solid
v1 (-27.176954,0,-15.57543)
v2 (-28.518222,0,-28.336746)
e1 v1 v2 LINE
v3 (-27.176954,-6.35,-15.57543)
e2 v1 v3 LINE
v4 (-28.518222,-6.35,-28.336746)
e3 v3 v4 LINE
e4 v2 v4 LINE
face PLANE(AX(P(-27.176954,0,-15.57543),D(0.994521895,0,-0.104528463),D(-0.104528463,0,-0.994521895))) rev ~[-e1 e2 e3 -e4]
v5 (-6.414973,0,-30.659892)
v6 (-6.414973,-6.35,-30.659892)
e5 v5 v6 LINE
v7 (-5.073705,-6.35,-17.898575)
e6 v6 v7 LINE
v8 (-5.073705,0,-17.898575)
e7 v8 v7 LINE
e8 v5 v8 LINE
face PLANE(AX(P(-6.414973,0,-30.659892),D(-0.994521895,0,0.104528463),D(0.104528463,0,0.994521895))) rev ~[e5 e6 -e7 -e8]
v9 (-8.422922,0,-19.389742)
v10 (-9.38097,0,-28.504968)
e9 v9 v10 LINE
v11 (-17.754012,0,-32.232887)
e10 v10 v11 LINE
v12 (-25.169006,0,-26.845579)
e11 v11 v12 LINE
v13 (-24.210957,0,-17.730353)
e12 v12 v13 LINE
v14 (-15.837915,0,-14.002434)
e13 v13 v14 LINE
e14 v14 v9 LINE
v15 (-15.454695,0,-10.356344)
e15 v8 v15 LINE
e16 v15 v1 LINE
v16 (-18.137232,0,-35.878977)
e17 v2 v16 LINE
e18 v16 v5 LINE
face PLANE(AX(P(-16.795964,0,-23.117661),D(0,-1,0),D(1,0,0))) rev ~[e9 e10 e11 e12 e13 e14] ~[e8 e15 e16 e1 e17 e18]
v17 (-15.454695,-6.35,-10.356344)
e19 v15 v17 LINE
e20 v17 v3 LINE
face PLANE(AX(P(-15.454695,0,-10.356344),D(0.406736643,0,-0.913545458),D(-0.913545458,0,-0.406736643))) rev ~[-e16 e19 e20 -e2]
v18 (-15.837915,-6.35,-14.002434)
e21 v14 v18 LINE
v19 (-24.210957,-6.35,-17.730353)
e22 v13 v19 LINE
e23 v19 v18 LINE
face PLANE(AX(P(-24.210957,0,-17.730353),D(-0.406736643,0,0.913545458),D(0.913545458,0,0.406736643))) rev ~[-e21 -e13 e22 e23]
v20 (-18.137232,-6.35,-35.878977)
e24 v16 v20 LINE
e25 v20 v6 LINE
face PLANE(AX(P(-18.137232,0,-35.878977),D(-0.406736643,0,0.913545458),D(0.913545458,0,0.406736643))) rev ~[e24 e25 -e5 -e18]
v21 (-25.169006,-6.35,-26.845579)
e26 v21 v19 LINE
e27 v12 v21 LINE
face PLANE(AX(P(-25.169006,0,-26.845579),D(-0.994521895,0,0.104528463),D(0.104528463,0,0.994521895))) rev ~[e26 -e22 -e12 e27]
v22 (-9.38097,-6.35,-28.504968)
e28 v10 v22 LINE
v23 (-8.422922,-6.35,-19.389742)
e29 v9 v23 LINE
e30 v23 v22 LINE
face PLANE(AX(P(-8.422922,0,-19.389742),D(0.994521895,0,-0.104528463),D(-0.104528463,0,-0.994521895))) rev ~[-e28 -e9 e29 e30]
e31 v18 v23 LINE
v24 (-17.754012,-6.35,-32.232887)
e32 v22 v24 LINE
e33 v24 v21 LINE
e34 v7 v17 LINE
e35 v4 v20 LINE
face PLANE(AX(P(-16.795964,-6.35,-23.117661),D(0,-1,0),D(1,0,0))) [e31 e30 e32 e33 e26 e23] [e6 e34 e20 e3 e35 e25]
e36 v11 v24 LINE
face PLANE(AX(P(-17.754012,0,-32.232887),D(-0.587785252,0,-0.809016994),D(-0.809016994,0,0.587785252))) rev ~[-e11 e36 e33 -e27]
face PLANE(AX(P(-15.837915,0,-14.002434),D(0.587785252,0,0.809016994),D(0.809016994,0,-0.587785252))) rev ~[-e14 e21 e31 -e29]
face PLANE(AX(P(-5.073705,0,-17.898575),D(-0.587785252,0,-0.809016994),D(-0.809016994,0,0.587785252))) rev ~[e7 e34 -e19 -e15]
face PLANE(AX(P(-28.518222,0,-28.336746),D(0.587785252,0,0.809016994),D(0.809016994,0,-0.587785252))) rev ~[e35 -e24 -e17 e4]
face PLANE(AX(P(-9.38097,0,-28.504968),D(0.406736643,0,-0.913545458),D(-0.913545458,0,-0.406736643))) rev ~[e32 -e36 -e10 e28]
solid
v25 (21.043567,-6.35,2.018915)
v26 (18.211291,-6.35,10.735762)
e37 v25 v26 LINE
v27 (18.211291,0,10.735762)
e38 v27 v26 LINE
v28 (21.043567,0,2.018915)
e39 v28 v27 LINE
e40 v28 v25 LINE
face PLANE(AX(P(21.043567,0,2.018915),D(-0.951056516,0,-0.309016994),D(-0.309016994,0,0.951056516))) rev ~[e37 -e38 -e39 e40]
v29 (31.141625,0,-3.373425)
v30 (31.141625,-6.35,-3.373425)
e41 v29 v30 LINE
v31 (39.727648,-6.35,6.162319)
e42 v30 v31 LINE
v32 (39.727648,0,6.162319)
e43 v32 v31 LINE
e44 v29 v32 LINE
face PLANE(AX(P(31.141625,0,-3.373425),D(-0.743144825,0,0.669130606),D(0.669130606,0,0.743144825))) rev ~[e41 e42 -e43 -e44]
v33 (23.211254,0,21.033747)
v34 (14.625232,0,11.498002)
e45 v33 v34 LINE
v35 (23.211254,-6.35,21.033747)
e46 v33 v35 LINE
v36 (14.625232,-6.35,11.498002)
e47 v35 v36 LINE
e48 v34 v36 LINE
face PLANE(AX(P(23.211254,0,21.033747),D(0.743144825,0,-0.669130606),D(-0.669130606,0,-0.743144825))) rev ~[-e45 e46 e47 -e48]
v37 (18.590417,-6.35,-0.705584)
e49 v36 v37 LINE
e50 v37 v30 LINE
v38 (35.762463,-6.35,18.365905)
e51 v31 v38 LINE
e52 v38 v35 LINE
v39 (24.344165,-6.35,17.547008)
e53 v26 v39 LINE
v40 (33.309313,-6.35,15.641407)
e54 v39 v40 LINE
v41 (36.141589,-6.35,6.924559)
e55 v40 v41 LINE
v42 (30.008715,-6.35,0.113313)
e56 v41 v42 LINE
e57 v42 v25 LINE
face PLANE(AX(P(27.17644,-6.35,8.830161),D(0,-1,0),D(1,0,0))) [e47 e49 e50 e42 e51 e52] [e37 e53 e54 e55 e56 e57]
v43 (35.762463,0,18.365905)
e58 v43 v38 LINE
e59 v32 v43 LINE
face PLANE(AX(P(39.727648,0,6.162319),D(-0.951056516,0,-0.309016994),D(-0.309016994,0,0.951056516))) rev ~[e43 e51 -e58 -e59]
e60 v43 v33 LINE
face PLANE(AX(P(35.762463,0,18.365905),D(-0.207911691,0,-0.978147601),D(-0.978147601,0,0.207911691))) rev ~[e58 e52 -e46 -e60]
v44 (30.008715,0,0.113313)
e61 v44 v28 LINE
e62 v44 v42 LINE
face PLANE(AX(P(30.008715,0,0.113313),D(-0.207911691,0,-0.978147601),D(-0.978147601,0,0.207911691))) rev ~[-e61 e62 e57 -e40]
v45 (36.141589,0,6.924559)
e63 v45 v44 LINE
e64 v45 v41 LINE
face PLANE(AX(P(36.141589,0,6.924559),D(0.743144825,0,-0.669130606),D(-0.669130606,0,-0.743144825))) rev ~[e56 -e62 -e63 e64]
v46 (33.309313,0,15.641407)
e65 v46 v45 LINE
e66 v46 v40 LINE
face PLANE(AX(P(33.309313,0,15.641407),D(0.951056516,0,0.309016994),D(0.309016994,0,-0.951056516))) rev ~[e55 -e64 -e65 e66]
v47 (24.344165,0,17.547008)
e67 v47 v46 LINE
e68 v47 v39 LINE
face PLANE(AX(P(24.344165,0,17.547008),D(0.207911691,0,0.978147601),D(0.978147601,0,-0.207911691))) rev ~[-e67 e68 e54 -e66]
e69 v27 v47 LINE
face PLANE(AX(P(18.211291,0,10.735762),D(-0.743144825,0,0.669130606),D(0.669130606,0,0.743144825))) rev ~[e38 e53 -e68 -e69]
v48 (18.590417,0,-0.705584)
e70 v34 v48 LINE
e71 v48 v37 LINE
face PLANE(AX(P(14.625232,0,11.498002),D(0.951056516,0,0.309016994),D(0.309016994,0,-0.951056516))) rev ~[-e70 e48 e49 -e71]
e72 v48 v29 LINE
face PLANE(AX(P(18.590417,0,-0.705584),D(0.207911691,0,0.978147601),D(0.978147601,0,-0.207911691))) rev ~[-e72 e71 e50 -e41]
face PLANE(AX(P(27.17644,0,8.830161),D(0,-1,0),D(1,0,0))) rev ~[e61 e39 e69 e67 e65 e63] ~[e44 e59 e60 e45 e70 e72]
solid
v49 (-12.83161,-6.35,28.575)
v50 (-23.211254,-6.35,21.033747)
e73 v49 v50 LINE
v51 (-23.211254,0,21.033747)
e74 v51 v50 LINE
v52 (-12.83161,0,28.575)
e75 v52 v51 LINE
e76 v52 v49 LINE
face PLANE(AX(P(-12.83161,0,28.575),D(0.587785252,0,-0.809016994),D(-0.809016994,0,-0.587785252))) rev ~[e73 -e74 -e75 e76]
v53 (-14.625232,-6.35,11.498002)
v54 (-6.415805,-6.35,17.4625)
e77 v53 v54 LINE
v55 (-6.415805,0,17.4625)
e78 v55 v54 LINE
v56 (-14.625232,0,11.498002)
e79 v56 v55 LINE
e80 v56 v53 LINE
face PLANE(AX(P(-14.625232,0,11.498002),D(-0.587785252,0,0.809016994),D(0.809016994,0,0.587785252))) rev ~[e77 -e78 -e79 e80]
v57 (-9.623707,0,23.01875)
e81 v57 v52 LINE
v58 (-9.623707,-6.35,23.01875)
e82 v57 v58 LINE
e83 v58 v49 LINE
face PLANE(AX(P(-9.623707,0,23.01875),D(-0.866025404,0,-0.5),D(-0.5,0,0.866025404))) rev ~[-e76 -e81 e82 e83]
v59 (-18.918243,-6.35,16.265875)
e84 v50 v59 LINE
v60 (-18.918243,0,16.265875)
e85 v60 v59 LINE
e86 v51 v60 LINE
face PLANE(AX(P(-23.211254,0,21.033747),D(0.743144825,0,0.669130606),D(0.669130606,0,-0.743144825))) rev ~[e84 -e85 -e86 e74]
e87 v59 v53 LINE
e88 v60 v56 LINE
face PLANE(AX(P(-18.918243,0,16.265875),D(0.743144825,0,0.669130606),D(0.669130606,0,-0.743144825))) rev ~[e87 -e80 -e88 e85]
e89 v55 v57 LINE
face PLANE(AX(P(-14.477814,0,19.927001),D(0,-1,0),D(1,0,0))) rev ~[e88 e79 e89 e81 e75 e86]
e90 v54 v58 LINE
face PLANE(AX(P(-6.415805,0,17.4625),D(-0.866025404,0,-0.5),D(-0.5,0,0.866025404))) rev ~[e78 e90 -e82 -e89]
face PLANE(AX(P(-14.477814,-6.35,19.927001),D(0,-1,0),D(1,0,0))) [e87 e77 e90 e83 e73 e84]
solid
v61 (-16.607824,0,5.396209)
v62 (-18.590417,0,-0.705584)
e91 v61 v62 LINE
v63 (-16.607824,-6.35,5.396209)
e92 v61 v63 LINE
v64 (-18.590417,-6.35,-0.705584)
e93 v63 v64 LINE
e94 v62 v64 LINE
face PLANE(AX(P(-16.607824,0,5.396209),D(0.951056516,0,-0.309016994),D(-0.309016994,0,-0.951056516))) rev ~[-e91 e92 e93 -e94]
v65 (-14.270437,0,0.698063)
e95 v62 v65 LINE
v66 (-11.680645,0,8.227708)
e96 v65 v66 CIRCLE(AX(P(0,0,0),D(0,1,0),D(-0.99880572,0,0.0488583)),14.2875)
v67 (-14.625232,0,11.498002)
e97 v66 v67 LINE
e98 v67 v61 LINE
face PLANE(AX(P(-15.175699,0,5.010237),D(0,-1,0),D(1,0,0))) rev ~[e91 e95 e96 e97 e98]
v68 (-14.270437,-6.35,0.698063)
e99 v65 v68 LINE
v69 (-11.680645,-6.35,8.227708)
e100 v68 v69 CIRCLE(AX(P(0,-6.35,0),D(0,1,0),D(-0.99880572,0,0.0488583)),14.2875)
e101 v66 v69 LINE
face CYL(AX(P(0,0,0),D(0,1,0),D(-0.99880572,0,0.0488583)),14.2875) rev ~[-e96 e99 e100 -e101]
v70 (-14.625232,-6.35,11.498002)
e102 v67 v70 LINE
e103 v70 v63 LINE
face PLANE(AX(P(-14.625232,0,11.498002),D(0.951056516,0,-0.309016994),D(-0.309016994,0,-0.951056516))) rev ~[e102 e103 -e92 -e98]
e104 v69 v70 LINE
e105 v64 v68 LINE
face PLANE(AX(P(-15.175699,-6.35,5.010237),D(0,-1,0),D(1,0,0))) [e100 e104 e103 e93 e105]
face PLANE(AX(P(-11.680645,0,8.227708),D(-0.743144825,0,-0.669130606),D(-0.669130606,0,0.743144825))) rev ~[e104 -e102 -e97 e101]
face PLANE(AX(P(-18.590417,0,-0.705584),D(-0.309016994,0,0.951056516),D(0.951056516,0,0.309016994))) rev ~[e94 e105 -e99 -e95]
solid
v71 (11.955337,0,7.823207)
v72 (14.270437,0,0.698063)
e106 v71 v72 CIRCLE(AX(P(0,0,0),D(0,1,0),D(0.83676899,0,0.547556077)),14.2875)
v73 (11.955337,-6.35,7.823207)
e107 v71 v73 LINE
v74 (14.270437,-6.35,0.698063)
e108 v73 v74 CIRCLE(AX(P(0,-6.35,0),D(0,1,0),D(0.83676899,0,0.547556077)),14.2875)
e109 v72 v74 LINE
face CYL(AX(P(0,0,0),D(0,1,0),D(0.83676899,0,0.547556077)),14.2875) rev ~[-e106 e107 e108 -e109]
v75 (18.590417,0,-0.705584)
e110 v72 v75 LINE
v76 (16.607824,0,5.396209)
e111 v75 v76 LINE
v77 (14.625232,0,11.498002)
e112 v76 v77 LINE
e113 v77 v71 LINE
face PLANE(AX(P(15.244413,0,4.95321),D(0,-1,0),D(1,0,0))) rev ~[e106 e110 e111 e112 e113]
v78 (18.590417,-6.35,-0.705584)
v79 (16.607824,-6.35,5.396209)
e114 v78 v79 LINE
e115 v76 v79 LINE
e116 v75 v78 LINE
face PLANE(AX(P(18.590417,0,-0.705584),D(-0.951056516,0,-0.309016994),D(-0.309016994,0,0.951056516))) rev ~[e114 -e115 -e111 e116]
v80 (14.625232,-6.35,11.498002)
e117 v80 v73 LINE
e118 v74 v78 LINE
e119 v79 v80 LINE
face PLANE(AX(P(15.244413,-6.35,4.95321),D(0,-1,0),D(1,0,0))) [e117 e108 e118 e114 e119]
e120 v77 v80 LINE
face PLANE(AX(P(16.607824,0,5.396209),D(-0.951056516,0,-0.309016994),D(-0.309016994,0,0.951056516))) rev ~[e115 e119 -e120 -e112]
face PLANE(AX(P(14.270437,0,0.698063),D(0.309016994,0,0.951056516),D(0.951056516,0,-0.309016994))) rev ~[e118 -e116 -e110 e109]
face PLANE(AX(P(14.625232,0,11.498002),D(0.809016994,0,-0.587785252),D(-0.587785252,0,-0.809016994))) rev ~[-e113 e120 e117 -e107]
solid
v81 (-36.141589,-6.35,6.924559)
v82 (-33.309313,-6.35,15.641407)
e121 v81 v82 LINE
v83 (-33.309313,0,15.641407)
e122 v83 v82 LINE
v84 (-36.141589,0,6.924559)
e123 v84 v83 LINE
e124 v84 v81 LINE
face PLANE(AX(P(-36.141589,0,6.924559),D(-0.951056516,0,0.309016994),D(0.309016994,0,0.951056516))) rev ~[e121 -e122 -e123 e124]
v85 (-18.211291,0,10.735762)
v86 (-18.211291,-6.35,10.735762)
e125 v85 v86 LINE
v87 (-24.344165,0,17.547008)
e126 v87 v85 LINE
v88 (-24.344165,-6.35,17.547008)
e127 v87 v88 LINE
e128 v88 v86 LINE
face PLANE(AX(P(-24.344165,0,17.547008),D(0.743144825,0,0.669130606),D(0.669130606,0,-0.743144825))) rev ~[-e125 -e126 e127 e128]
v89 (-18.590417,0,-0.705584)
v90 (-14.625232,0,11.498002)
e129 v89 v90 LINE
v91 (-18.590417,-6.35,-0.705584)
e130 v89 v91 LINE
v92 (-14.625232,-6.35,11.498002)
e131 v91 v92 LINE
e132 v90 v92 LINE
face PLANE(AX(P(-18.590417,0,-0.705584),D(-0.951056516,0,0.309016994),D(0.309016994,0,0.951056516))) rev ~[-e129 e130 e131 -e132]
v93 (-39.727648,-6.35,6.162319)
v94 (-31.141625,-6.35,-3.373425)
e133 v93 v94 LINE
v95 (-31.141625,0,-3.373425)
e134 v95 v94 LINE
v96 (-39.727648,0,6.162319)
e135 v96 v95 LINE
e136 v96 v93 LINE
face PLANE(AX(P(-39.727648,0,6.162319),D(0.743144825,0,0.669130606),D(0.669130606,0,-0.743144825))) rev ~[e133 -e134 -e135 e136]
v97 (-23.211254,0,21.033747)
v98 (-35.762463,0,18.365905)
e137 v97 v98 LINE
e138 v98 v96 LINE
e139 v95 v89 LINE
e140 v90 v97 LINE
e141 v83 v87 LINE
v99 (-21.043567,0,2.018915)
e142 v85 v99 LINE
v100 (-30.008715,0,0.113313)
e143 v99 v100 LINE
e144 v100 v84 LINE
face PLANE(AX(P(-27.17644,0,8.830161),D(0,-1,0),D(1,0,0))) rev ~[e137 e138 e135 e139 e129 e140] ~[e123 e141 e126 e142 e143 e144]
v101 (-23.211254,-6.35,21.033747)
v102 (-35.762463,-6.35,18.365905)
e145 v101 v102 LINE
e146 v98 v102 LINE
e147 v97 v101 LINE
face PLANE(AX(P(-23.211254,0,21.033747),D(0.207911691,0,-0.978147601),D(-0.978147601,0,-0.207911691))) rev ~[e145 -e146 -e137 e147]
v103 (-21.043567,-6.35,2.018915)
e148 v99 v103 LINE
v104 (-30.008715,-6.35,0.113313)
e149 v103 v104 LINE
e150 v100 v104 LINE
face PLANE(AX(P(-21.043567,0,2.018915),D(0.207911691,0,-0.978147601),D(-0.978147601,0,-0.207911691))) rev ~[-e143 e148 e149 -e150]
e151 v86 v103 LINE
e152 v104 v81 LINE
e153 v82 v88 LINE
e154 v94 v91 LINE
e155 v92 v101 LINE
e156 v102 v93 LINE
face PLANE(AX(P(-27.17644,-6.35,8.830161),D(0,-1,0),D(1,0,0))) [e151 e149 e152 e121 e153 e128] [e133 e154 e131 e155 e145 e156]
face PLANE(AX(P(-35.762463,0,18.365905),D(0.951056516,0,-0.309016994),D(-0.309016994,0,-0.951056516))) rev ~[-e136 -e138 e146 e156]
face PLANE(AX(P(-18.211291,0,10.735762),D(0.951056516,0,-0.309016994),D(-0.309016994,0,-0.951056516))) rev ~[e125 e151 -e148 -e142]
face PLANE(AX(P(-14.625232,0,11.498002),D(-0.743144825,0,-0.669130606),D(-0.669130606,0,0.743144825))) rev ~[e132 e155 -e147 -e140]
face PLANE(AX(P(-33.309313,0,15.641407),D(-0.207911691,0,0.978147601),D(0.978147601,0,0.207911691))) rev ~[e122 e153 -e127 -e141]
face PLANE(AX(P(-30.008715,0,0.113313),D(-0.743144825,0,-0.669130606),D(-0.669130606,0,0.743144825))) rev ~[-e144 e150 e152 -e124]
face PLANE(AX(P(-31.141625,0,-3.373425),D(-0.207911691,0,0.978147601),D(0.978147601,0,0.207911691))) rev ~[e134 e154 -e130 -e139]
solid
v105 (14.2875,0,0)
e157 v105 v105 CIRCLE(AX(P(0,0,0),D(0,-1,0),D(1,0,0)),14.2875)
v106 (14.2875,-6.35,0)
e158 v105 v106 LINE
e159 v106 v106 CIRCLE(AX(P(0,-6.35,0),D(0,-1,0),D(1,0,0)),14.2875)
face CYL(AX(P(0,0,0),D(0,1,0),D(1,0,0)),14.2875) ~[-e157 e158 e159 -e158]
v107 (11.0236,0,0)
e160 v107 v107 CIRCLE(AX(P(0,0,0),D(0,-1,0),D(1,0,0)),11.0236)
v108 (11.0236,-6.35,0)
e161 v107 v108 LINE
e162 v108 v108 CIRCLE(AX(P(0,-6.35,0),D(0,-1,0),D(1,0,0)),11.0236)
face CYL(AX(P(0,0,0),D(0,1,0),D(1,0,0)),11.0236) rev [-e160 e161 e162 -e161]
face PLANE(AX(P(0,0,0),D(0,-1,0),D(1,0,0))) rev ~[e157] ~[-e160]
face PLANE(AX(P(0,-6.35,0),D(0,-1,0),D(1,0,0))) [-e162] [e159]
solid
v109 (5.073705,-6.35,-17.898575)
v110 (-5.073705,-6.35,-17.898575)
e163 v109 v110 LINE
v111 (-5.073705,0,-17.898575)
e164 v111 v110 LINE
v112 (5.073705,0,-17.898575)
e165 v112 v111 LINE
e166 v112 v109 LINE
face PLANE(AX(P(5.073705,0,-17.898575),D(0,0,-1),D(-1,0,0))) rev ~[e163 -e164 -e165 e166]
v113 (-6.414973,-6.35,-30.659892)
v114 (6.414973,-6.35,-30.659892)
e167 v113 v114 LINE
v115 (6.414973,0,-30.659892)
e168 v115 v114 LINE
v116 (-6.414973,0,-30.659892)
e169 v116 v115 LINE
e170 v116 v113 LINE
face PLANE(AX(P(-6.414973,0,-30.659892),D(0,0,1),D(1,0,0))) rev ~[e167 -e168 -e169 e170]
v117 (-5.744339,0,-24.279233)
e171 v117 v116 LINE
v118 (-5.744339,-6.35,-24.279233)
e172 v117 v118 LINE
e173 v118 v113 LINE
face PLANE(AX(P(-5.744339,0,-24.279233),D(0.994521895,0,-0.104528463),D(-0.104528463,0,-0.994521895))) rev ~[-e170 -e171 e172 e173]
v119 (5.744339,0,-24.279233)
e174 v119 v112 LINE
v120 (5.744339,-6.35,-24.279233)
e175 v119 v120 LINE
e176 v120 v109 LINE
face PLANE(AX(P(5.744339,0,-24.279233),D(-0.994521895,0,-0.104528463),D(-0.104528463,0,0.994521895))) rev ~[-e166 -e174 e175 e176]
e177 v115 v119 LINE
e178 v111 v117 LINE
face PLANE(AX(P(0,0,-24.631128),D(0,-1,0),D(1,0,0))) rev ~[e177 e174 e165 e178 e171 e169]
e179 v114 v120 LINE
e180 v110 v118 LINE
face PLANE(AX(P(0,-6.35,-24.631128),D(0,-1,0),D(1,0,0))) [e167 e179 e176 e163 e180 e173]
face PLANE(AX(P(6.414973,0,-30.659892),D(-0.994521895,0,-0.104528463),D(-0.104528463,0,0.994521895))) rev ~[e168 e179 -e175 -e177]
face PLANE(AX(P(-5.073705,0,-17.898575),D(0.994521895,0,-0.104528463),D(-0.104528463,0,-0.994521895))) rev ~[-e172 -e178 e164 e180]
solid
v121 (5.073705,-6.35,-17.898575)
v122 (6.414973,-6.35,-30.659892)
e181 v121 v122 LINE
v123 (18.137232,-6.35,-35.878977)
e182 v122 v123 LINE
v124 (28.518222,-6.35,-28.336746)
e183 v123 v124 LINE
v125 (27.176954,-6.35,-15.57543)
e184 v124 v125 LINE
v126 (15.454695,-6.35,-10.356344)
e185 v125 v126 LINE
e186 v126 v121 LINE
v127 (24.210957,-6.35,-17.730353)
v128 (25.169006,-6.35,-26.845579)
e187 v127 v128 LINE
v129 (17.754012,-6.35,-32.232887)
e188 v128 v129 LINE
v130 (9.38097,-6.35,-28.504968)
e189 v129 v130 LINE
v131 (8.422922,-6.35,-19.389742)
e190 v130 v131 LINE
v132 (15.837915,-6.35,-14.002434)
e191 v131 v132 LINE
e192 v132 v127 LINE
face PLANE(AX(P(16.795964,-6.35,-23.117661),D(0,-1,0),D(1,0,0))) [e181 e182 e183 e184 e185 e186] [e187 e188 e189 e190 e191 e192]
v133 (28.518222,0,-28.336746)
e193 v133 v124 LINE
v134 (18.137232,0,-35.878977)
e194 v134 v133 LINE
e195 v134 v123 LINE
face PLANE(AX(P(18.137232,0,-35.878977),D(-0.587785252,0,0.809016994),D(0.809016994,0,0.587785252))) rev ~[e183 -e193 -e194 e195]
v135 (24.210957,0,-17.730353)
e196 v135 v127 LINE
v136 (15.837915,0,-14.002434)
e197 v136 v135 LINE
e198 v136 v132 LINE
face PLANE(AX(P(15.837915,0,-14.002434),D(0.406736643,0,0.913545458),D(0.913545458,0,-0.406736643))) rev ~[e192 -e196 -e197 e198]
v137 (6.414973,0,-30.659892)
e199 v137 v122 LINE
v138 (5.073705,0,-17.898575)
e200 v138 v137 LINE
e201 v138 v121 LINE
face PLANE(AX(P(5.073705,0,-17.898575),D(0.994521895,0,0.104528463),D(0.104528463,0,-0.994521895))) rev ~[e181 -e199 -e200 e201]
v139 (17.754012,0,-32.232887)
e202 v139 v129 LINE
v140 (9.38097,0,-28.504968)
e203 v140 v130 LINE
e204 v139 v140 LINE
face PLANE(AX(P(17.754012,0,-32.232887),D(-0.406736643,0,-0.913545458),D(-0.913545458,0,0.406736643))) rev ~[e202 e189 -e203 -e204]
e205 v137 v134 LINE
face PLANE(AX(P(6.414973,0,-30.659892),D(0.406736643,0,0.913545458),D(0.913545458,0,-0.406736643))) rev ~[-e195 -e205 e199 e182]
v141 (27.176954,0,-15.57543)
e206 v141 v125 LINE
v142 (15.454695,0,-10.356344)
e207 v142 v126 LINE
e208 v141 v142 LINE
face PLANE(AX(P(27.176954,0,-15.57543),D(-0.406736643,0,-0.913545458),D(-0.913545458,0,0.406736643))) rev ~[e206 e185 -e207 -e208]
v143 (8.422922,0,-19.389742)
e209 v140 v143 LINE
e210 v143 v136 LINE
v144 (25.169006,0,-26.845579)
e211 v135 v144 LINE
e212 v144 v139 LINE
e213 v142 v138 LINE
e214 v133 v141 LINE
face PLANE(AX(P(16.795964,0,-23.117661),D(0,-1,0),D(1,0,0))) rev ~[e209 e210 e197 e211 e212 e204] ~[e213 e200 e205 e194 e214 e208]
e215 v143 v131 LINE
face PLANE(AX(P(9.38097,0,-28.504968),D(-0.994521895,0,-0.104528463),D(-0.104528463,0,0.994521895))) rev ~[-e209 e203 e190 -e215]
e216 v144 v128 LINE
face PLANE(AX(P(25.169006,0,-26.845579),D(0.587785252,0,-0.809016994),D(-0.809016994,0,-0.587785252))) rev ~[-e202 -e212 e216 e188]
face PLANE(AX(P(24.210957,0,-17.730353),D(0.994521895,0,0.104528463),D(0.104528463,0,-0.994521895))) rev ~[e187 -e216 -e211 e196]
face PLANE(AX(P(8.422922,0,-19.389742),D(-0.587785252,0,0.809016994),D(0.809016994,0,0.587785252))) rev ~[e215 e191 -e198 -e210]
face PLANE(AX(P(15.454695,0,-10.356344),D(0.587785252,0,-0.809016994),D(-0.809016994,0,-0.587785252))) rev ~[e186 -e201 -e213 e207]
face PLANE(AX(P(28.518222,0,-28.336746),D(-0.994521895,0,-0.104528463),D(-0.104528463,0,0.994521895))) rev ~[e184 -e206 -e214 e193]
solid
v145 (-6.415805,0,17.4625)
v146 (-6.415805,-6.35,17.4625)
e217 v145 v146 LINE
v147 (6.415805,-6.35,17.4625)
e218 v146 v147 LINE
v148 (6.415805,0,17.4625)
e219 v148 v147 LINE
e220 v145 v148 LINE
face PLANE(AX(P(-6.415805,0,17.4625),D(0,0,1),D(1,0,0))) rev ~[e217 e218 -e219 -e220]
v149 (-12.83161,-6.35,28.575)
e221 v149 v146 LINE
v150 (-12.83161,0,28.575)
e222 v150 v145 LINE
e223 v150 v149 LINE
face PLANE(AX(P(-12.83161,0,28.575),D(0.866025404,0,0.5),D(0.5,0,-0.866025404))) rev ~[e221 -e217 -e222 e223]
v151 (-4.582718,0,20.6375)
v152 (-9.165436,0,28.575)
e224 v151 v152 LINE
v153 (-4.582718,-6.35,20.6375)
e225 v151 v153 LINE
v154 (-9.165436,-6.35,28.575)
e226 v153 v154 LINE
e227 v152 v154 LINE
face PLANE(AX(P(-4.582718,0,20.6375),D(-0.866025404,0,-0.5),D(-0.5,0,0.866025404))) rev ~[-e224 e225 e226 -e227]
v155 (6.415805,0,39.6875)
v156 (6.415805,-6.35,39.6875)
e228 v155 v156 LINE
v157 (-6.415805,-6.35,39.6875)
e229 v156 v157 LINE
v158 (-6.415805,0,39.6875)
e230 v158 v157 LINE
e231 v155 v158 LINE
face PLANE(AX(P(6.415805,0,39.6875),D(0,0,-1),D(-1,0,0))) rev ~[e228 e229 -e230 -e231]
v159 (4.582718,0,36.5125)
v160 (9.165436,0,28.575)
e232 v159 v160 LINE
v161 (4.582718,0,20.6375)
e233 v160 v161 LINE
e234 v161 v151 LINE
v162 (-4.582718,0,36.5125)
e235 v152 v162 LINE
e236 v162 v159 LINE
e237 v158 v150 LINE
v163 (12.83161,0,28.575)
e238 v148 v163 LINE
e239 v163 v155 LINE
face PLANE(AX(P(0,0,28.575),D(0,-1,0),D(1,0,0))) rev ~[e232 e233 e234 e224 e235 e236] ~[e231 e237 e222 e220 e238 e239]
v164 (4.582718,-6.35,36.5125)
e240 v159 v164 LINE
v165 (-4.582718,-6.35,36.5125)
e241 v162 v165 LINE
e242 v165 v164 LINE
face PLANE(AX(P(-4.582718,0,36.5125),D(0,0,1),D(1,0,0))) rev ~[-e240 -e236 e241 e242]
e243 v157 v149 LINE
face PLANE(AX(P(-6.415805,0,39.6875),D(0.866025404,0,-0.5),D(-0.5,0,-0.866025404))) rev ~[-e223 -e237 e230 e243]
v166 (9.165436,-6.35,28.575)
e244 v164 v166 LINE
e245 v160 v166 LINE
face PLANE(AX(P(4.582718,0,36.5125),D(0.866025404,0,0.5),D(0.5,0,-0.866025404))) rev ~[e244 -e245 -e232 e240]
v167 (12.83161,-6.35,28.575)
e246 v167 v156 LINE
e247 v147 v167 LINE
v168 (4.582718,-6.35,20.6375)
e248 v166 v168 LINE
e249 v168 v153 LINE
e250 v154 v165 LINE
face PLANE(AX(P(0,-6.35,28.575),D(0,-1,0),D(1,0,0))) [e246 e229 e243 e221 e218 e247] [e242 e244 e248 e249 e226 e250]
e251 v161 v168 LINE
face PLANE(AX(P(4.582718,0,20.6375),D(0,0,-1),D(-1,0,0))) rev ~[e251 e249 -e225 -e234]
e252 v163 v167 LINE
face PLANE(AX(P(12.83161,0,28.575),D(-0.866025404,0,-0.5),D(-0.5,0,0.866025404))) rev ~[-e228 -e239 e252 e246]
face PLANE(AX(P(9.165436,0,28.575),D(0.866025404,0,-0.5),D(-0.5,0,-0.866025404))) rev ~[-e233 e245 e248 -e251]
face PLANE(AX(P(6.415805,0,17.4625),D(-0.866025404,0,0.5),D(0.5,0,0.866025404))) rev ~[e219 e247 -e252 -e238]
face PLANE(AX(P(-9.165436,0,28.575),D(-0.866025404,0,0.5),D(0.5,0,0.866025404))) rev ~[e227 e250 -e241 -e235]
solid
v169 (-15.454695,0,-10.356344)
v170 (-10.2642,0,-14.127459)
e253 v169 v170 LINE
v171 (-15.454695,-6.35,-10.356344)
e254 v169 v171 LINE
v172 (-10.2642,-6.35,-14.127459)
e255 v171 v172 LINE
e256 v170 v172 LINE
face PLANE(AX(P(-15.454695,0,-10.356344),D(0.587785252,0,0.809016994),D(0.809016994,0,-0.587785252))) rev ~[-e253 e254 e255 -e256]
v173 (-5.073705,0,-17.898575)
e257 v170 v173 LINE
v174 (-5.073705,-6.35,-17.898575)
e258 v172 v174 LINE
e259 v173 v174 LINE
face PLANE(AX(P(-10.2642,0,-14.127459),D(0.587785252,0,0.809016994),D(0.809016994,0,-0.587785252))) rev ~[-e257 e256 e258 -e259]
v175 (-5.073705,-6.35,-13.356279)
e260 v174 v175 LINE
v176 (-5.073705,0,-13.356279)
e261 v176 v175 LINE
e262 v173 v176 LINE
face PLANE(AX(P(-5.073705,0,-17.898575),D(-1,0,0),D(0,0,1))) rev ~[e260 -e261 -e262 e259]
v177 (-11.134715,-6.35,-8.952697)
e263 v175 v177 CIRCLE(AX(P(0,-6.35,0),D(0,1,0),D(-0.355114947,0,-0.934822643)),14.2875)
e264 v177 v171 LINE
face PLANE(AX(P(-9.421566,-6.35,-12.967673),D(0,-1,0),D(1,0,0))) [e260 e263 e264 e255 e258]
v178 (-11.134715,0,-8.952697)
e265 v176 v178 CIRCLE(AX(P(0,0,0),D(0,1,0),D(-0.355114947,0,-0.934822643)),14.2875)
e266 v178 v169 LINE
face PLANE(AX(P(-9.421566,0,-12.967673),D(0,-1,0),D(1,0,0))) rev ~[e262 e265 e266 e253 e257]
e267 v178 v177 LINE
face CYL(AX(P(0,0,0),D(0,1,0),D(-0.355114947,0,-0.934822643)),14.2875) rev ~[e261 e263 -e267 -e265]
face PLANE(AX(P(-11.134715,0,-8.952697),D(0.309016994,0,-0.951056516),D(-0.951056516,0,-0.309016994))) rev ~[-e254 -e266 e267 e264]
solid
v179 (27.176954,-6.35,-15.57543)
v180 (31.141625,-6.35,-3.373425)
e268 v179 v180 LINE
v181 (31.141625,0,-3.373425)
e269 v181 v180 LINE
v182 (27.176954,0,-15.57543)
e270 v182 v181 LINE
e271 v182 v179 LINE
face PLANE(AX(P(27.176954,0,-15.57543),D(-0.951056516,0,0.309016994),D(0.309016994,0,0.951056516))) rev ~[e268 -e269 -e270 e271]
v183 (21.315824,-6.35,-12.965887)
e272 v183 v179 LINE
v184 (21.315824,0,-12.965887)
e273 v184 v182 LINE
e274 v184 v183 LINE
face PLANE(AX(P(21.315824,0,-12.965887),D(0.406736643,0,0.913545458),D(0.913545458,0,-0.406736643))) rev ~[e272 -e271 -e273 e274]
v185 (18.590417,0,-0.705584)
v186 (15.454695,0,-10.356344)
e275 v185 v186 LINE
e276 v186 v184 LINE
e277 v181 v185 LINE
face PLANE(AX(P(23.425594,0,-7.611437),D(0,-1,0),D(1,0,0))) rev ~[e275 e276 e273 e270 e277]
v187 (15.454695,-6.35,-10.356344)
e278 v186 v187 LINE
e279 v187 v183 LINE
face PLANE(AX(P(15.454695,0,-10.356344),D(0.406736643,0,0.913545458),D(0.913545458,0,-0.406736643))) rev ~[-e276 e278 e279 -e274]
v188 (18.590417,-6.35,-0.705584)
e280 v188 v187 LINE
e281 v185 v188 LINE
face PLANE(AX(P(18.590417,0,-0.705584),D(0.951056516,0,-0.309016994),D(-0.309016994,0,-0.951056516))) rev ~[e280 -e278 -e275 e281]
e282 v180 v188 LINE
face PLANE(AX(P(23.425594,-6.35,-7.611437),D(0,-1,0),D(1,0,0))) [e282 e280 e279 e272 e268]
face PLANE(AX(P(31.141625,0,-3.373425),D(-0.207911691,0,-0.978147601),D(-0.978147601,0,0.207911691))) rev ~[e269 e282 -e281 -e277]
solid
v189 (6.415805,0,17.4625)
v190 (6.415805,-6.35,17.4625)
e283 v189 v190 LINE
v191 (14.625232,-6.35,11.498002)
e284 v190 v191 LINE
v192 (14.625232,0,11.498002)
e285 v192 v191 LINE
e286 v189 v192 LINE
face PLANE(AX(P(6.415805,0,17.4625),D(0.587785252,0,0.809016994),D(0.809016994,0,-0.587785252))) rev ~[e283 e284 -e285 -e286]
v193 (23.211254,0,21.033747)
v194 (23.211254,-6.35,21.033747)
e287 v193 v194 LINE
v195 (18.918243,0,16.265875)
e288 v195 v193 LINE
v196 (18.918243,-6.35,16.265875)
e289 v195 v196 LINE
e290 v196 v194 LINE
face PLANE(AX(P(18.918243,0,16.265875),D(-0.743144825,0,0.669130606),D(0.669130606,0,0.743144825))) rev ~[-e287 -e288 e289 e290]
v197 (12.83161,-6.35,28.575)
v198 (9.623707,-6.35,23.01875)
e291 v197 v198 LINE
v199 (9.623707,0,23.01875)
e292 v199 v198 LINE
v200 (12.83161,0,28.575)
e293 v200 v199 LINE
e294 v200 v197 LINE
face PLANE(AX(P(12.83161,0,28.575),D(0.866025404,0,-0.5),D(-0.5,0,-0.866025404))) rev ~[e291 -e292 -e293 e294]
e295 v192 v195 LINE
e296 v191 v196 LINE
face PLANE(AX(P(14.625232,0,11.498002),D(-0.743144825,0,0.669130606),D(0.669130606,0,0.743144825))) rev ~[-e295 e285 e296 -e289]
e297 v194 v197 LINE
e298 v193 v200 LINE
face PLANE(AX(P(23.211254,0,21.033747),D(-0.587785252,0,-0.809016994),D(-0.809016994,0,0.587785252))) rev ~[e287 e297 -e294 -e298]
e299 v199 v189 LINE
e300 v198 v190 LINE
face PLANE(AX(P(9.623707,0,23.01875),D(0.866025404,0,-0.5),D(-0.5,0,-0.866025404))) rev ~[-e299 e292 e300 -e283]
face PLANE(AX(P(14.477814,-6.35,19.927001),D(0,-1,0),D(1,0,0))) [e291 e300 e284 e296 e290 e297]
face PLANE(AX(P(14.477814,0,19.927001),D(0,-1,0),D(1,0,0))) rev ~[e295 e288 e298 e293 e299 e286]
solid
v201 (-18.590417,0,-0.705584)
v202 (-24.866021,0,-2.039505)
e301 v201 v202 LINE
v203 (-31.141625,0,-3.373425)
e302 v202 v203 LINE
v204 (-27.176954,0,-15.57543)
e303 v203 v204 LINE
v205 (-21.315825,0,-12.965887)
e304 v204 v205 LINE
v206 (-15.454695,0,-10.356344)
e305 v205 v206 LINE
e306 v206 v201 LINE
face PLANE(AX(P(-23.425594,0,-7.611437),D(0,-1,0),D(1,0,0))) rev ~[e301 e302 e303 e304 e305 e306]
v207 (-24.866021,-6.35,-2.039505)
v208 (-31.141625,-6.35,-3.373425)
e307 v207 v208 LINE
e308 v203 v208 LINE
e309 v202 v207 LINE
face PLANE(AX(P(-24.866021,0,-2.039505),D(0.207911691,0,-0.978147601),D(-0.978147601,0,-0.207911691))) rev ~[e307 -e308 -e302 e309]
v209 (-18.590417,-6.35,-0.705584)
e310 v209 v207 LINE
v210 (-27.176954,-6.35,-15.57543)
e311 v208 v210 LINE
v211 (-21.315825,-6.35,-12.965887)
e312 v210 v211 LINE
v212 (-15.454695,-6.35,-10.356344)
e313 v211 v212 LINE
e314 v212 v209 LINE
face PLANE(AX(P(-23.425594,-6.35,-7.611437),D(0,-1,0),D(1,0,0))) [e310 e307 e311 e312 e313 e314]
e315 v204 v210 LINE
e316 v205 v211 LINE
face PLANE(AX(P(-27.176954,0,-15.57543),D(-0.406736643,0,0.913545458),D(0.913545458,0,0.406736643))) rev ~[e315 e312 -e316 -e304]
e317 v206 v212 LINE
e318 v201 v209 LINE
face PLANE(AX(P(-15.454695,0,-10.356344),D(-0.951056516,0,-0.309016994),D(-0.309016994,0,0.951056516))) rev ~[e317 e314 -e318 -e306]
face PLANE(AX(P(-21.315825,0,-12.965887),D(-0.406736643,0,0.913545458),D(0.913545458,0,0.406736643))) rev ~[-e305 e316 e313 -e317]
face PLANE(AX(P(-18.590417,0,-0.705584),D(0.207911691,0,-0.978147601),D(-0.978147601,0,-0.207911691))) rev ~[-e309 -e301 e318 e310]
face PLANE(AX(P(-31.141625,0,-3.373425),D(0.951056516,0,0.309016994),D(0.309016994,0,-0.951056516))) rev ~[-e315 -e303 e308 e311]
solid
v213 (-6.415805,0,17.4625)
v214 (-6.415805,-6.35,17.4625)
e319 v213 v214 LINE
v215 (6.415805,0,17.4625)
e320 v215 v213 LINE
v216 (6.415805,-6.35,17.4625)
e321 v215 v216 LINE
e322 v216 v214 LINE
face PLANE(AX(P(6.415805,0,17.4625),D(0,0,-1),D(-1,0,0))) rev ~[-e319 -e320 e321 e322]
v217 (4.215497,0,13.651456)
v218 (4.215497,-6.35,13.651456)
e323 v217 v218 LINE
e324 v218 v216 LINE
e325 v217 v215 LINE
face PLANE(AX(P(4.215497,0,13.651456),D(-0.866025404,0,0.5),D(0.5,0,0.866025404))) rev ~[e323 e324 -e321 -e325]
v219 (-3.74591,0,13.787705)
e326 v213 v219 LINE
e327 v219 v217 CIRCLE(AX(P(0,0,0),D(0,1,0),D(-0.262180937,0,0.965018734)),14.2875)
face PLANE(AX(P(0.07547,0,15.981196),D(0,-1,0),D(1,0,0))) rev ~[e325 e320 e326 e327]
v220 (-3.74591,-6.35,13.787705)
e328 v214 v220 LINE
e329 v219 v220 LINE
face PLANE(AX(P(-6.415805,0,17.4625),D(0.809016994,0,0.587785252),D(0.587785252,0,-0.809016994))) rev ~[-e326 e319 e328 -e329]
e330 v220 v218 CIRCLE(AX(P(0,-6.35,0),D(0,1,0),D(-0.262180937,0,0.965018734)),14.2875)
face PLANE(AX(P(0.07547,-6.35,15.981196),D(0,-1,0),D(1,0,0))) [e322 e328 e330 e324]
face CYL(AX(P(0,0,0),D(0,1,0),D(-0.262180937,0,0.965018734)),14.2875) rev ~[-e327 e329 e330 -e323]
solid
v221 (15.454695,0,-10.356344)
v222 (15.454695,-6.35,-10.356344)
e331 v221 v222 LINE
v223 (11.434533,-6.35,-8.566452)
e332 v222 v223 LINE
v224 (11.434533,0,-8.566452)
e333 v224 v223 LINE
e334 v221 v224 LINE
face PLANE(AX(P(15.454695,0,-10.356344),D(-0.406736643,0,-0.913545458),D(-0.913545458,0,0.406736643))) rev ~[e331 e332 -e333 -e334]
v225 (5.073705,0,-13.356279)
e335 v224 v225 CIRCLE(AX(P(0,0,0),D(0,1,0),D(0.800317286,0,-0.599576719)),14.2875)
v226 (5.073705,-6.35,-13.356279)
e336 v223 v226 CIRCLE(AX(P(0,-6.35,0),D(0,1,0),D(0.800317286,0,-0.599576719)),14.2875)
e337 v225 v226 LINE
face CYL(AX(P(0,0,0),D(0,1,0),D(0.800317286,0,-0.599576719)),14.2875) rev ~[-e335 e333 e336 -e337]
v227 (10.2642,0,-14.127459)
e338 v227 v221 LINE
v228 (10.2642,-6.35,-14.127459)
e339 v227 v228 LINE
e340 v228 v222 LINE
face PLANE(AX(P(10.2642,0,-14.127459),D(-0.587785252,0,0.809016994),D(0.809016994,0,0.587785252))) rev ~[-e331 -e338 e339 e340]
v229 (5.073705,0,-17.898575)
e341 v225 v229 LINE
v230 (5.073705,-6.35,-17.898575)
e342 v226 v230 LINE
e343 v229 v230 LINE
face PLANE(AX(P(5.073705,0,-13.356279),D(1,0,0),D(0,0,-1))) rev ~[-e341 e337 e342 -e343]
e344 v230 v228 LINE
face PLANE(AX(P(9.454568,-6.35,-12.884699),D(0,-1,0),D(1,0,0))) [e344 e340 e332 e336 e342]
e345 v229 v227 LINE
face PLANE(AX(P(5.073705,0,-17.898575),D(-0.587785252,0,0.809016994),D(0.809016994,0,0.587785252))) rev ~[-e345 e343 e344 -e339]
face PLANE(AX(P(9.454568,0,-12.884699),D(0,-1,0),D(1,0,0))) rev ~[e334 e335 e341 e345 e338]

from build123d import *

# Parameters (mm, degrees)
F2_DEPTH = 6.35
F0_R     = 14.2875
F0_R_2   = 11.0236


with BuildPart() as f2:
    # F0 (on Front) → F2 (new body)
    with BuildSketch(Plane.XZ):
        Polygon((-6.4158048664, 17.4625), (6.4158048664, 17.4625), (12.8316097327, 28.575), (6.4158048664, 39.6875), (-6.4158048664, 39.6875), (-12.8316097327, 28.575), align=None)
        Polygon((9.1654355234, 28.575), (4.5827177617, 20.6375), (-4.5827177617, 20.6375), (-9.1654355234, 28.575), (-4.5827177617, 36.5125), (4.5827177617, 36.5125), align=None, mode=Mode.SUBTRACT)
    extrude(amount=F2_DEPTH)


with BuildPart() as f2b:
    # F0 (on Front) → F2, piece 2 (new body)
    with BuildSketch(Plane.XZ):
        Polygon((-18.5904171521, -0.7055837612), (-14.6252316795, 11.4980022897), (-23.2112544805, 21.0337466651), (-35.7624627542, 18.3659049897), (-39.7276482268, 6.1623189388), (-31.1416254257, -3.3734254366), align=None)
        Polygon((-33.3093133824, 15.6414065967), (-24.3441646156, 17.5470077935), (-18.2112911863, 10.735761811), (-21.0435665238, 2.0189146318), (-30.0087152907, 0.1133134351), (-36.14158872, 6.9245594175), align=None, mode=Mode.SUBTRACT)
    extrude(amount=F2_DEPTH)


with BuildPart() as f2c:
    # F0 (on Front) → F2, piece 3 (new body)
    with BuildSketch(Plane.XZ):
        Polygon((-5.0737047987, -17.8985747463), (-15.4546951376, -10.3563437822), (-27.1769539232, -15.5754296502), (-28.5182223698, -28.3367464822), (-18.1372320309, -35.8789774463), (-6.4149732453, -30.6598915783), align=None)
        Polygon((-25.169005574, -26.8455790914), (-24.2109566835, -17.7303527828), (-15.8379146938, -14.0024343057), (-8.4229215946, -19.3897421372), (-9.380970485, -28.5049684457), (-17.7540124747, -32.2328869229), align=None, mode=Mode.SUBTRACT)
    extrude(amount=F2_DEPTH)


with BuildPart() as f2d:
    # F0 (on Front) → F2, piece 4 (new body)
    with BuildSketch(Plane.XZ):
        Polygon((15.4546951376, -10.3563437822), (5.0737047987, -17.8985747463), (6.4149732453, -30.6598915783), (18.1372320309, -35.8789774463), (28.5182223698, -28.3367464822), (27.1769539232, -15.5754296502), align=None)
        Polygon((17.7540124747, -32.2328869229), (9.380970485, -28.5049684457), (8.4229215946, -19.3897421372), (15.8379146938, -14.0024343057), (24.2109566835, -17.7303527828), (25.169005574, -26.8455790914), align=None, mode=Mode.SUBTRACT)
    extrude(amount=F2_DEPTH)


with BuildPart() as f2e:
    # F0 (on Front) → F2, piece 5 (new body)
    with BuildSketch(Plane.XZ):
        Polygon((14.6252316795, 11.4980022897), (18.5904171521, -0.7055837612), (31.1416254257, -3.3734254366), (39.7276482268, 6.1623189388), (35.7624627542, 18.3659049897), (23.2112544805, 21.0337466651), align=None)
        Polygon((36.14158872, 6.9245594175), (30.0087152907, 0.1133134351), (21.0435665238, 2.0189146318), (18.2112911863, 10.735761811), (24.3441646156, 17.5470077935), (33.3093133824, 15.6414065967), align=None, mode=Mode.SUBTRACT)
    extrude(amount=F2_DEPTH)


with BuildPart() as f2f:
    # F0 (on Front) → F2, piece 6 (new body)
    with BuildSketch(Plane.XZ):
        Circle(F0_R)
        Circle(F0_R_2, mode=Mode.SUBTRACT)
    extrude(amount=F2_DEPTH)


with BuildPart() as f2g:
    # F1 (on Front) → F2, piece 7 (new body)
    with BuildSketch(Plane.XZ):
        Polygon((-18.5904171521, -0.7055837612), (-24.8660210684, -2.039504552), (-31.1416254257, -3.3734254366), (-27.1769539232, -15.5754296502), (-21.315824511, -12.9658867075), (-15.4546951376, -10.3563437822), align=None)
    extrude(amount=F2_DEPTH)


with BuildPart() as f2h:
    # F1 (on Front) → F2, piece 8 (new body)
    with BuildSketch(Plane.XZ):
        Polygon((5.7443390338, -24.2792332749), (5.0737047987, -17.8985747463), (-5.0737047987, -17.8985747463), (-5.7443390492, -24.2792334216), (-6.4149732453, -30.6598915783), (6.4149732453, -30.6598915783), align=None)
    extrude(amount=F2_DEPTH)


with BuildPart() as f2i:
    # F1 (on Front) → F2, piece 9 (new body)
    with BuildSketch(Plane.XZ):
        Polygon((24.8660214244, -2.0395046277), (18.5904171521, -0.7055837612), (15.4546951376, -10.3563437822), (21.3158242932, -12.9658866106), (27.1769539232, -15.5754296502), (31.1416254257, -3.3734254366), align=None)
    extrude(amount=F2_DEPTH)


with BuildPart() as f2j:
    # F1 (on Front) → F2, piece 10 (new body)
    with BuildSketch(Plane.XZ):
        Polygon((18.918243317, 16.2658747406), (23.2112544805, 21.0337466651), (12.8316097327, 28.575), (9.6237072438, 23.0187499034), (6.4158048664, 17.4625), (14.6252316795, 11.4980022897), align=None)
    extrude(amount=F2_DEPTH)


with BuildPart() as f2k:
    # F1 (on Front) → F2, piece 11 (new body)
    with BuildSketch(Plane.XZ):
        Polygon((-6.4158048664, 17.4625), (-9.6237073033, 23.0187500066), (-12.8316097327, 28.575), (-23.2112544805, 21.0337466651), (-18.918243317, 16.2658747406), (-14.6252316795, 11.4980022897), align=None)
    extrude(amount=F2_DEPTH)


with BuildPart() as f2l:
    # F1 (on Front) → F2, piece 12 (new body)
    with BuildSketch(Plane.XZ):
        with BuildLine():
            Line((-10.2641997882, -14.127459395), (-5.0737047987, -17.8985747463))
            Line((-5.0737047987, -17.8985747463), (-5.0737047987, -13.3562785186))
            ThreePointArc((-5.0737047987, -13.3562785186), (-8.3979817921, -11.5588303071), (-11.1347147113, -8.9526970544))
            Line((-11.1347147113, -8.9526970544), (-15.4546951376, -10.3563437822))
            Line((-15.4546951376, -10.3563437822), (-10.2641997882, -14.127459395))
        make_face()
    extrude(amount=F2_DEPTH)


with BuildPart() as f2m:
    # F1 (on Front) → F2, piece 13 (new body)
    with BuildSketch(Plane.XZ):
        with BuildLine():
            Line((10.2641999769, -14.1274592579), (15.4546951376, -10.3563437822))
            Line((15.4546951376, -10.3563437822), (11.4345332188, -8.5664523764))
            ThreePointArc((11.4345332188, -8.5664523764), (8.5945383372, -11.4134380018), (5.0737047987, -13.3562785186))
            Line((5.0737047987, -13.3562785186), (5.0737047987, -17.8985747463))
            Line((5.0737047987, -17.8985747463), (10.2641999769, -14.1274592579))
        make_face()
    extrude(amount=F2_DEPTH)


with BuildPart() as f2n:
    # F1 (on Front) → F2, piece 14 (new body)
    with BuildSketch(Plane.XZ):
        with BuildLine():
            Line((16.6078243421, 5.396209491), (14.6252316795, 11.4980022897))
            Line((14.6252316795, 11.4980022897), (11.9553369453, 7.823207448))
            ThreePointArc((11.9553369453, 7.823207448), (13.5882199766, 4.4150803071), (14.2704367258, 0.6980629667))
            Line((14.2704367258, 0.6980629667), (18.5904171521, -0.7055837612))
            Line((18.5904171521, -0.7055837612), (16.6078243421, 5.396209491))
        make_face()
    extrude(amount=F2_DEPTH)


with BuildPart() as f2o:
    # F1 (on Front) → F2, piece 15 (new body)
    with BuildSketch(Plane.XZ):
        with BuildLine():
            Line((-11.6806454415, 8.2277079628), (-14.6252316795, 11.4980022897))
            Line((-14.6252316795, 11.4980022897), (-16.6078244895, 5.3962090375))
            Line((-16.6078244895, 5.3962090375), (-18.5904171521, -0.7055837612))
            Line((-18.5904171521, -0.7055837612), (-14.2704367258, 0.6980629667))
            ThreePointArc((-14.2704367258, 0.6980629667), (-13.5106829899, 4.6469453833), (-11.6806454415, 8.2277079628))
        make_face()
    extrude(amount=F2_DEPTH)


with BuildPart() as f2p:
    # F1 (on Front) → F2, piece 16 (new body)
    with BuildSketch(Plane.XZ):
        with BuildLine():
            Line((4.2154973255, 13.6514555469), (6.4158048664, 17.4625))
            Line((6.4158048664, 17.4625), (0, 17.4625))
            Line((0, 17.4625), (-6.4158048664, 17.4625))
            Line((-6.4158048664, 17.4625), (-3.7459101322, 13.7877051583))
            ThreePointArc((-3.7459101322, 13.7877051583), (0.2444770381, 14.2854081926), (4.2154973255, 13.6514555469))
        make_face()
    extrude(amount=F2_DEPTH)


solid = Compound([f2.part, f2b.part, f2c.part, f2d.part, f2e.part, f2f.part, f2g.part, f2h.part, f2i.part, f2j.part, f2k.part, f2l.part, f2m.part, f2n.part, f2o.part, f2p.part])
